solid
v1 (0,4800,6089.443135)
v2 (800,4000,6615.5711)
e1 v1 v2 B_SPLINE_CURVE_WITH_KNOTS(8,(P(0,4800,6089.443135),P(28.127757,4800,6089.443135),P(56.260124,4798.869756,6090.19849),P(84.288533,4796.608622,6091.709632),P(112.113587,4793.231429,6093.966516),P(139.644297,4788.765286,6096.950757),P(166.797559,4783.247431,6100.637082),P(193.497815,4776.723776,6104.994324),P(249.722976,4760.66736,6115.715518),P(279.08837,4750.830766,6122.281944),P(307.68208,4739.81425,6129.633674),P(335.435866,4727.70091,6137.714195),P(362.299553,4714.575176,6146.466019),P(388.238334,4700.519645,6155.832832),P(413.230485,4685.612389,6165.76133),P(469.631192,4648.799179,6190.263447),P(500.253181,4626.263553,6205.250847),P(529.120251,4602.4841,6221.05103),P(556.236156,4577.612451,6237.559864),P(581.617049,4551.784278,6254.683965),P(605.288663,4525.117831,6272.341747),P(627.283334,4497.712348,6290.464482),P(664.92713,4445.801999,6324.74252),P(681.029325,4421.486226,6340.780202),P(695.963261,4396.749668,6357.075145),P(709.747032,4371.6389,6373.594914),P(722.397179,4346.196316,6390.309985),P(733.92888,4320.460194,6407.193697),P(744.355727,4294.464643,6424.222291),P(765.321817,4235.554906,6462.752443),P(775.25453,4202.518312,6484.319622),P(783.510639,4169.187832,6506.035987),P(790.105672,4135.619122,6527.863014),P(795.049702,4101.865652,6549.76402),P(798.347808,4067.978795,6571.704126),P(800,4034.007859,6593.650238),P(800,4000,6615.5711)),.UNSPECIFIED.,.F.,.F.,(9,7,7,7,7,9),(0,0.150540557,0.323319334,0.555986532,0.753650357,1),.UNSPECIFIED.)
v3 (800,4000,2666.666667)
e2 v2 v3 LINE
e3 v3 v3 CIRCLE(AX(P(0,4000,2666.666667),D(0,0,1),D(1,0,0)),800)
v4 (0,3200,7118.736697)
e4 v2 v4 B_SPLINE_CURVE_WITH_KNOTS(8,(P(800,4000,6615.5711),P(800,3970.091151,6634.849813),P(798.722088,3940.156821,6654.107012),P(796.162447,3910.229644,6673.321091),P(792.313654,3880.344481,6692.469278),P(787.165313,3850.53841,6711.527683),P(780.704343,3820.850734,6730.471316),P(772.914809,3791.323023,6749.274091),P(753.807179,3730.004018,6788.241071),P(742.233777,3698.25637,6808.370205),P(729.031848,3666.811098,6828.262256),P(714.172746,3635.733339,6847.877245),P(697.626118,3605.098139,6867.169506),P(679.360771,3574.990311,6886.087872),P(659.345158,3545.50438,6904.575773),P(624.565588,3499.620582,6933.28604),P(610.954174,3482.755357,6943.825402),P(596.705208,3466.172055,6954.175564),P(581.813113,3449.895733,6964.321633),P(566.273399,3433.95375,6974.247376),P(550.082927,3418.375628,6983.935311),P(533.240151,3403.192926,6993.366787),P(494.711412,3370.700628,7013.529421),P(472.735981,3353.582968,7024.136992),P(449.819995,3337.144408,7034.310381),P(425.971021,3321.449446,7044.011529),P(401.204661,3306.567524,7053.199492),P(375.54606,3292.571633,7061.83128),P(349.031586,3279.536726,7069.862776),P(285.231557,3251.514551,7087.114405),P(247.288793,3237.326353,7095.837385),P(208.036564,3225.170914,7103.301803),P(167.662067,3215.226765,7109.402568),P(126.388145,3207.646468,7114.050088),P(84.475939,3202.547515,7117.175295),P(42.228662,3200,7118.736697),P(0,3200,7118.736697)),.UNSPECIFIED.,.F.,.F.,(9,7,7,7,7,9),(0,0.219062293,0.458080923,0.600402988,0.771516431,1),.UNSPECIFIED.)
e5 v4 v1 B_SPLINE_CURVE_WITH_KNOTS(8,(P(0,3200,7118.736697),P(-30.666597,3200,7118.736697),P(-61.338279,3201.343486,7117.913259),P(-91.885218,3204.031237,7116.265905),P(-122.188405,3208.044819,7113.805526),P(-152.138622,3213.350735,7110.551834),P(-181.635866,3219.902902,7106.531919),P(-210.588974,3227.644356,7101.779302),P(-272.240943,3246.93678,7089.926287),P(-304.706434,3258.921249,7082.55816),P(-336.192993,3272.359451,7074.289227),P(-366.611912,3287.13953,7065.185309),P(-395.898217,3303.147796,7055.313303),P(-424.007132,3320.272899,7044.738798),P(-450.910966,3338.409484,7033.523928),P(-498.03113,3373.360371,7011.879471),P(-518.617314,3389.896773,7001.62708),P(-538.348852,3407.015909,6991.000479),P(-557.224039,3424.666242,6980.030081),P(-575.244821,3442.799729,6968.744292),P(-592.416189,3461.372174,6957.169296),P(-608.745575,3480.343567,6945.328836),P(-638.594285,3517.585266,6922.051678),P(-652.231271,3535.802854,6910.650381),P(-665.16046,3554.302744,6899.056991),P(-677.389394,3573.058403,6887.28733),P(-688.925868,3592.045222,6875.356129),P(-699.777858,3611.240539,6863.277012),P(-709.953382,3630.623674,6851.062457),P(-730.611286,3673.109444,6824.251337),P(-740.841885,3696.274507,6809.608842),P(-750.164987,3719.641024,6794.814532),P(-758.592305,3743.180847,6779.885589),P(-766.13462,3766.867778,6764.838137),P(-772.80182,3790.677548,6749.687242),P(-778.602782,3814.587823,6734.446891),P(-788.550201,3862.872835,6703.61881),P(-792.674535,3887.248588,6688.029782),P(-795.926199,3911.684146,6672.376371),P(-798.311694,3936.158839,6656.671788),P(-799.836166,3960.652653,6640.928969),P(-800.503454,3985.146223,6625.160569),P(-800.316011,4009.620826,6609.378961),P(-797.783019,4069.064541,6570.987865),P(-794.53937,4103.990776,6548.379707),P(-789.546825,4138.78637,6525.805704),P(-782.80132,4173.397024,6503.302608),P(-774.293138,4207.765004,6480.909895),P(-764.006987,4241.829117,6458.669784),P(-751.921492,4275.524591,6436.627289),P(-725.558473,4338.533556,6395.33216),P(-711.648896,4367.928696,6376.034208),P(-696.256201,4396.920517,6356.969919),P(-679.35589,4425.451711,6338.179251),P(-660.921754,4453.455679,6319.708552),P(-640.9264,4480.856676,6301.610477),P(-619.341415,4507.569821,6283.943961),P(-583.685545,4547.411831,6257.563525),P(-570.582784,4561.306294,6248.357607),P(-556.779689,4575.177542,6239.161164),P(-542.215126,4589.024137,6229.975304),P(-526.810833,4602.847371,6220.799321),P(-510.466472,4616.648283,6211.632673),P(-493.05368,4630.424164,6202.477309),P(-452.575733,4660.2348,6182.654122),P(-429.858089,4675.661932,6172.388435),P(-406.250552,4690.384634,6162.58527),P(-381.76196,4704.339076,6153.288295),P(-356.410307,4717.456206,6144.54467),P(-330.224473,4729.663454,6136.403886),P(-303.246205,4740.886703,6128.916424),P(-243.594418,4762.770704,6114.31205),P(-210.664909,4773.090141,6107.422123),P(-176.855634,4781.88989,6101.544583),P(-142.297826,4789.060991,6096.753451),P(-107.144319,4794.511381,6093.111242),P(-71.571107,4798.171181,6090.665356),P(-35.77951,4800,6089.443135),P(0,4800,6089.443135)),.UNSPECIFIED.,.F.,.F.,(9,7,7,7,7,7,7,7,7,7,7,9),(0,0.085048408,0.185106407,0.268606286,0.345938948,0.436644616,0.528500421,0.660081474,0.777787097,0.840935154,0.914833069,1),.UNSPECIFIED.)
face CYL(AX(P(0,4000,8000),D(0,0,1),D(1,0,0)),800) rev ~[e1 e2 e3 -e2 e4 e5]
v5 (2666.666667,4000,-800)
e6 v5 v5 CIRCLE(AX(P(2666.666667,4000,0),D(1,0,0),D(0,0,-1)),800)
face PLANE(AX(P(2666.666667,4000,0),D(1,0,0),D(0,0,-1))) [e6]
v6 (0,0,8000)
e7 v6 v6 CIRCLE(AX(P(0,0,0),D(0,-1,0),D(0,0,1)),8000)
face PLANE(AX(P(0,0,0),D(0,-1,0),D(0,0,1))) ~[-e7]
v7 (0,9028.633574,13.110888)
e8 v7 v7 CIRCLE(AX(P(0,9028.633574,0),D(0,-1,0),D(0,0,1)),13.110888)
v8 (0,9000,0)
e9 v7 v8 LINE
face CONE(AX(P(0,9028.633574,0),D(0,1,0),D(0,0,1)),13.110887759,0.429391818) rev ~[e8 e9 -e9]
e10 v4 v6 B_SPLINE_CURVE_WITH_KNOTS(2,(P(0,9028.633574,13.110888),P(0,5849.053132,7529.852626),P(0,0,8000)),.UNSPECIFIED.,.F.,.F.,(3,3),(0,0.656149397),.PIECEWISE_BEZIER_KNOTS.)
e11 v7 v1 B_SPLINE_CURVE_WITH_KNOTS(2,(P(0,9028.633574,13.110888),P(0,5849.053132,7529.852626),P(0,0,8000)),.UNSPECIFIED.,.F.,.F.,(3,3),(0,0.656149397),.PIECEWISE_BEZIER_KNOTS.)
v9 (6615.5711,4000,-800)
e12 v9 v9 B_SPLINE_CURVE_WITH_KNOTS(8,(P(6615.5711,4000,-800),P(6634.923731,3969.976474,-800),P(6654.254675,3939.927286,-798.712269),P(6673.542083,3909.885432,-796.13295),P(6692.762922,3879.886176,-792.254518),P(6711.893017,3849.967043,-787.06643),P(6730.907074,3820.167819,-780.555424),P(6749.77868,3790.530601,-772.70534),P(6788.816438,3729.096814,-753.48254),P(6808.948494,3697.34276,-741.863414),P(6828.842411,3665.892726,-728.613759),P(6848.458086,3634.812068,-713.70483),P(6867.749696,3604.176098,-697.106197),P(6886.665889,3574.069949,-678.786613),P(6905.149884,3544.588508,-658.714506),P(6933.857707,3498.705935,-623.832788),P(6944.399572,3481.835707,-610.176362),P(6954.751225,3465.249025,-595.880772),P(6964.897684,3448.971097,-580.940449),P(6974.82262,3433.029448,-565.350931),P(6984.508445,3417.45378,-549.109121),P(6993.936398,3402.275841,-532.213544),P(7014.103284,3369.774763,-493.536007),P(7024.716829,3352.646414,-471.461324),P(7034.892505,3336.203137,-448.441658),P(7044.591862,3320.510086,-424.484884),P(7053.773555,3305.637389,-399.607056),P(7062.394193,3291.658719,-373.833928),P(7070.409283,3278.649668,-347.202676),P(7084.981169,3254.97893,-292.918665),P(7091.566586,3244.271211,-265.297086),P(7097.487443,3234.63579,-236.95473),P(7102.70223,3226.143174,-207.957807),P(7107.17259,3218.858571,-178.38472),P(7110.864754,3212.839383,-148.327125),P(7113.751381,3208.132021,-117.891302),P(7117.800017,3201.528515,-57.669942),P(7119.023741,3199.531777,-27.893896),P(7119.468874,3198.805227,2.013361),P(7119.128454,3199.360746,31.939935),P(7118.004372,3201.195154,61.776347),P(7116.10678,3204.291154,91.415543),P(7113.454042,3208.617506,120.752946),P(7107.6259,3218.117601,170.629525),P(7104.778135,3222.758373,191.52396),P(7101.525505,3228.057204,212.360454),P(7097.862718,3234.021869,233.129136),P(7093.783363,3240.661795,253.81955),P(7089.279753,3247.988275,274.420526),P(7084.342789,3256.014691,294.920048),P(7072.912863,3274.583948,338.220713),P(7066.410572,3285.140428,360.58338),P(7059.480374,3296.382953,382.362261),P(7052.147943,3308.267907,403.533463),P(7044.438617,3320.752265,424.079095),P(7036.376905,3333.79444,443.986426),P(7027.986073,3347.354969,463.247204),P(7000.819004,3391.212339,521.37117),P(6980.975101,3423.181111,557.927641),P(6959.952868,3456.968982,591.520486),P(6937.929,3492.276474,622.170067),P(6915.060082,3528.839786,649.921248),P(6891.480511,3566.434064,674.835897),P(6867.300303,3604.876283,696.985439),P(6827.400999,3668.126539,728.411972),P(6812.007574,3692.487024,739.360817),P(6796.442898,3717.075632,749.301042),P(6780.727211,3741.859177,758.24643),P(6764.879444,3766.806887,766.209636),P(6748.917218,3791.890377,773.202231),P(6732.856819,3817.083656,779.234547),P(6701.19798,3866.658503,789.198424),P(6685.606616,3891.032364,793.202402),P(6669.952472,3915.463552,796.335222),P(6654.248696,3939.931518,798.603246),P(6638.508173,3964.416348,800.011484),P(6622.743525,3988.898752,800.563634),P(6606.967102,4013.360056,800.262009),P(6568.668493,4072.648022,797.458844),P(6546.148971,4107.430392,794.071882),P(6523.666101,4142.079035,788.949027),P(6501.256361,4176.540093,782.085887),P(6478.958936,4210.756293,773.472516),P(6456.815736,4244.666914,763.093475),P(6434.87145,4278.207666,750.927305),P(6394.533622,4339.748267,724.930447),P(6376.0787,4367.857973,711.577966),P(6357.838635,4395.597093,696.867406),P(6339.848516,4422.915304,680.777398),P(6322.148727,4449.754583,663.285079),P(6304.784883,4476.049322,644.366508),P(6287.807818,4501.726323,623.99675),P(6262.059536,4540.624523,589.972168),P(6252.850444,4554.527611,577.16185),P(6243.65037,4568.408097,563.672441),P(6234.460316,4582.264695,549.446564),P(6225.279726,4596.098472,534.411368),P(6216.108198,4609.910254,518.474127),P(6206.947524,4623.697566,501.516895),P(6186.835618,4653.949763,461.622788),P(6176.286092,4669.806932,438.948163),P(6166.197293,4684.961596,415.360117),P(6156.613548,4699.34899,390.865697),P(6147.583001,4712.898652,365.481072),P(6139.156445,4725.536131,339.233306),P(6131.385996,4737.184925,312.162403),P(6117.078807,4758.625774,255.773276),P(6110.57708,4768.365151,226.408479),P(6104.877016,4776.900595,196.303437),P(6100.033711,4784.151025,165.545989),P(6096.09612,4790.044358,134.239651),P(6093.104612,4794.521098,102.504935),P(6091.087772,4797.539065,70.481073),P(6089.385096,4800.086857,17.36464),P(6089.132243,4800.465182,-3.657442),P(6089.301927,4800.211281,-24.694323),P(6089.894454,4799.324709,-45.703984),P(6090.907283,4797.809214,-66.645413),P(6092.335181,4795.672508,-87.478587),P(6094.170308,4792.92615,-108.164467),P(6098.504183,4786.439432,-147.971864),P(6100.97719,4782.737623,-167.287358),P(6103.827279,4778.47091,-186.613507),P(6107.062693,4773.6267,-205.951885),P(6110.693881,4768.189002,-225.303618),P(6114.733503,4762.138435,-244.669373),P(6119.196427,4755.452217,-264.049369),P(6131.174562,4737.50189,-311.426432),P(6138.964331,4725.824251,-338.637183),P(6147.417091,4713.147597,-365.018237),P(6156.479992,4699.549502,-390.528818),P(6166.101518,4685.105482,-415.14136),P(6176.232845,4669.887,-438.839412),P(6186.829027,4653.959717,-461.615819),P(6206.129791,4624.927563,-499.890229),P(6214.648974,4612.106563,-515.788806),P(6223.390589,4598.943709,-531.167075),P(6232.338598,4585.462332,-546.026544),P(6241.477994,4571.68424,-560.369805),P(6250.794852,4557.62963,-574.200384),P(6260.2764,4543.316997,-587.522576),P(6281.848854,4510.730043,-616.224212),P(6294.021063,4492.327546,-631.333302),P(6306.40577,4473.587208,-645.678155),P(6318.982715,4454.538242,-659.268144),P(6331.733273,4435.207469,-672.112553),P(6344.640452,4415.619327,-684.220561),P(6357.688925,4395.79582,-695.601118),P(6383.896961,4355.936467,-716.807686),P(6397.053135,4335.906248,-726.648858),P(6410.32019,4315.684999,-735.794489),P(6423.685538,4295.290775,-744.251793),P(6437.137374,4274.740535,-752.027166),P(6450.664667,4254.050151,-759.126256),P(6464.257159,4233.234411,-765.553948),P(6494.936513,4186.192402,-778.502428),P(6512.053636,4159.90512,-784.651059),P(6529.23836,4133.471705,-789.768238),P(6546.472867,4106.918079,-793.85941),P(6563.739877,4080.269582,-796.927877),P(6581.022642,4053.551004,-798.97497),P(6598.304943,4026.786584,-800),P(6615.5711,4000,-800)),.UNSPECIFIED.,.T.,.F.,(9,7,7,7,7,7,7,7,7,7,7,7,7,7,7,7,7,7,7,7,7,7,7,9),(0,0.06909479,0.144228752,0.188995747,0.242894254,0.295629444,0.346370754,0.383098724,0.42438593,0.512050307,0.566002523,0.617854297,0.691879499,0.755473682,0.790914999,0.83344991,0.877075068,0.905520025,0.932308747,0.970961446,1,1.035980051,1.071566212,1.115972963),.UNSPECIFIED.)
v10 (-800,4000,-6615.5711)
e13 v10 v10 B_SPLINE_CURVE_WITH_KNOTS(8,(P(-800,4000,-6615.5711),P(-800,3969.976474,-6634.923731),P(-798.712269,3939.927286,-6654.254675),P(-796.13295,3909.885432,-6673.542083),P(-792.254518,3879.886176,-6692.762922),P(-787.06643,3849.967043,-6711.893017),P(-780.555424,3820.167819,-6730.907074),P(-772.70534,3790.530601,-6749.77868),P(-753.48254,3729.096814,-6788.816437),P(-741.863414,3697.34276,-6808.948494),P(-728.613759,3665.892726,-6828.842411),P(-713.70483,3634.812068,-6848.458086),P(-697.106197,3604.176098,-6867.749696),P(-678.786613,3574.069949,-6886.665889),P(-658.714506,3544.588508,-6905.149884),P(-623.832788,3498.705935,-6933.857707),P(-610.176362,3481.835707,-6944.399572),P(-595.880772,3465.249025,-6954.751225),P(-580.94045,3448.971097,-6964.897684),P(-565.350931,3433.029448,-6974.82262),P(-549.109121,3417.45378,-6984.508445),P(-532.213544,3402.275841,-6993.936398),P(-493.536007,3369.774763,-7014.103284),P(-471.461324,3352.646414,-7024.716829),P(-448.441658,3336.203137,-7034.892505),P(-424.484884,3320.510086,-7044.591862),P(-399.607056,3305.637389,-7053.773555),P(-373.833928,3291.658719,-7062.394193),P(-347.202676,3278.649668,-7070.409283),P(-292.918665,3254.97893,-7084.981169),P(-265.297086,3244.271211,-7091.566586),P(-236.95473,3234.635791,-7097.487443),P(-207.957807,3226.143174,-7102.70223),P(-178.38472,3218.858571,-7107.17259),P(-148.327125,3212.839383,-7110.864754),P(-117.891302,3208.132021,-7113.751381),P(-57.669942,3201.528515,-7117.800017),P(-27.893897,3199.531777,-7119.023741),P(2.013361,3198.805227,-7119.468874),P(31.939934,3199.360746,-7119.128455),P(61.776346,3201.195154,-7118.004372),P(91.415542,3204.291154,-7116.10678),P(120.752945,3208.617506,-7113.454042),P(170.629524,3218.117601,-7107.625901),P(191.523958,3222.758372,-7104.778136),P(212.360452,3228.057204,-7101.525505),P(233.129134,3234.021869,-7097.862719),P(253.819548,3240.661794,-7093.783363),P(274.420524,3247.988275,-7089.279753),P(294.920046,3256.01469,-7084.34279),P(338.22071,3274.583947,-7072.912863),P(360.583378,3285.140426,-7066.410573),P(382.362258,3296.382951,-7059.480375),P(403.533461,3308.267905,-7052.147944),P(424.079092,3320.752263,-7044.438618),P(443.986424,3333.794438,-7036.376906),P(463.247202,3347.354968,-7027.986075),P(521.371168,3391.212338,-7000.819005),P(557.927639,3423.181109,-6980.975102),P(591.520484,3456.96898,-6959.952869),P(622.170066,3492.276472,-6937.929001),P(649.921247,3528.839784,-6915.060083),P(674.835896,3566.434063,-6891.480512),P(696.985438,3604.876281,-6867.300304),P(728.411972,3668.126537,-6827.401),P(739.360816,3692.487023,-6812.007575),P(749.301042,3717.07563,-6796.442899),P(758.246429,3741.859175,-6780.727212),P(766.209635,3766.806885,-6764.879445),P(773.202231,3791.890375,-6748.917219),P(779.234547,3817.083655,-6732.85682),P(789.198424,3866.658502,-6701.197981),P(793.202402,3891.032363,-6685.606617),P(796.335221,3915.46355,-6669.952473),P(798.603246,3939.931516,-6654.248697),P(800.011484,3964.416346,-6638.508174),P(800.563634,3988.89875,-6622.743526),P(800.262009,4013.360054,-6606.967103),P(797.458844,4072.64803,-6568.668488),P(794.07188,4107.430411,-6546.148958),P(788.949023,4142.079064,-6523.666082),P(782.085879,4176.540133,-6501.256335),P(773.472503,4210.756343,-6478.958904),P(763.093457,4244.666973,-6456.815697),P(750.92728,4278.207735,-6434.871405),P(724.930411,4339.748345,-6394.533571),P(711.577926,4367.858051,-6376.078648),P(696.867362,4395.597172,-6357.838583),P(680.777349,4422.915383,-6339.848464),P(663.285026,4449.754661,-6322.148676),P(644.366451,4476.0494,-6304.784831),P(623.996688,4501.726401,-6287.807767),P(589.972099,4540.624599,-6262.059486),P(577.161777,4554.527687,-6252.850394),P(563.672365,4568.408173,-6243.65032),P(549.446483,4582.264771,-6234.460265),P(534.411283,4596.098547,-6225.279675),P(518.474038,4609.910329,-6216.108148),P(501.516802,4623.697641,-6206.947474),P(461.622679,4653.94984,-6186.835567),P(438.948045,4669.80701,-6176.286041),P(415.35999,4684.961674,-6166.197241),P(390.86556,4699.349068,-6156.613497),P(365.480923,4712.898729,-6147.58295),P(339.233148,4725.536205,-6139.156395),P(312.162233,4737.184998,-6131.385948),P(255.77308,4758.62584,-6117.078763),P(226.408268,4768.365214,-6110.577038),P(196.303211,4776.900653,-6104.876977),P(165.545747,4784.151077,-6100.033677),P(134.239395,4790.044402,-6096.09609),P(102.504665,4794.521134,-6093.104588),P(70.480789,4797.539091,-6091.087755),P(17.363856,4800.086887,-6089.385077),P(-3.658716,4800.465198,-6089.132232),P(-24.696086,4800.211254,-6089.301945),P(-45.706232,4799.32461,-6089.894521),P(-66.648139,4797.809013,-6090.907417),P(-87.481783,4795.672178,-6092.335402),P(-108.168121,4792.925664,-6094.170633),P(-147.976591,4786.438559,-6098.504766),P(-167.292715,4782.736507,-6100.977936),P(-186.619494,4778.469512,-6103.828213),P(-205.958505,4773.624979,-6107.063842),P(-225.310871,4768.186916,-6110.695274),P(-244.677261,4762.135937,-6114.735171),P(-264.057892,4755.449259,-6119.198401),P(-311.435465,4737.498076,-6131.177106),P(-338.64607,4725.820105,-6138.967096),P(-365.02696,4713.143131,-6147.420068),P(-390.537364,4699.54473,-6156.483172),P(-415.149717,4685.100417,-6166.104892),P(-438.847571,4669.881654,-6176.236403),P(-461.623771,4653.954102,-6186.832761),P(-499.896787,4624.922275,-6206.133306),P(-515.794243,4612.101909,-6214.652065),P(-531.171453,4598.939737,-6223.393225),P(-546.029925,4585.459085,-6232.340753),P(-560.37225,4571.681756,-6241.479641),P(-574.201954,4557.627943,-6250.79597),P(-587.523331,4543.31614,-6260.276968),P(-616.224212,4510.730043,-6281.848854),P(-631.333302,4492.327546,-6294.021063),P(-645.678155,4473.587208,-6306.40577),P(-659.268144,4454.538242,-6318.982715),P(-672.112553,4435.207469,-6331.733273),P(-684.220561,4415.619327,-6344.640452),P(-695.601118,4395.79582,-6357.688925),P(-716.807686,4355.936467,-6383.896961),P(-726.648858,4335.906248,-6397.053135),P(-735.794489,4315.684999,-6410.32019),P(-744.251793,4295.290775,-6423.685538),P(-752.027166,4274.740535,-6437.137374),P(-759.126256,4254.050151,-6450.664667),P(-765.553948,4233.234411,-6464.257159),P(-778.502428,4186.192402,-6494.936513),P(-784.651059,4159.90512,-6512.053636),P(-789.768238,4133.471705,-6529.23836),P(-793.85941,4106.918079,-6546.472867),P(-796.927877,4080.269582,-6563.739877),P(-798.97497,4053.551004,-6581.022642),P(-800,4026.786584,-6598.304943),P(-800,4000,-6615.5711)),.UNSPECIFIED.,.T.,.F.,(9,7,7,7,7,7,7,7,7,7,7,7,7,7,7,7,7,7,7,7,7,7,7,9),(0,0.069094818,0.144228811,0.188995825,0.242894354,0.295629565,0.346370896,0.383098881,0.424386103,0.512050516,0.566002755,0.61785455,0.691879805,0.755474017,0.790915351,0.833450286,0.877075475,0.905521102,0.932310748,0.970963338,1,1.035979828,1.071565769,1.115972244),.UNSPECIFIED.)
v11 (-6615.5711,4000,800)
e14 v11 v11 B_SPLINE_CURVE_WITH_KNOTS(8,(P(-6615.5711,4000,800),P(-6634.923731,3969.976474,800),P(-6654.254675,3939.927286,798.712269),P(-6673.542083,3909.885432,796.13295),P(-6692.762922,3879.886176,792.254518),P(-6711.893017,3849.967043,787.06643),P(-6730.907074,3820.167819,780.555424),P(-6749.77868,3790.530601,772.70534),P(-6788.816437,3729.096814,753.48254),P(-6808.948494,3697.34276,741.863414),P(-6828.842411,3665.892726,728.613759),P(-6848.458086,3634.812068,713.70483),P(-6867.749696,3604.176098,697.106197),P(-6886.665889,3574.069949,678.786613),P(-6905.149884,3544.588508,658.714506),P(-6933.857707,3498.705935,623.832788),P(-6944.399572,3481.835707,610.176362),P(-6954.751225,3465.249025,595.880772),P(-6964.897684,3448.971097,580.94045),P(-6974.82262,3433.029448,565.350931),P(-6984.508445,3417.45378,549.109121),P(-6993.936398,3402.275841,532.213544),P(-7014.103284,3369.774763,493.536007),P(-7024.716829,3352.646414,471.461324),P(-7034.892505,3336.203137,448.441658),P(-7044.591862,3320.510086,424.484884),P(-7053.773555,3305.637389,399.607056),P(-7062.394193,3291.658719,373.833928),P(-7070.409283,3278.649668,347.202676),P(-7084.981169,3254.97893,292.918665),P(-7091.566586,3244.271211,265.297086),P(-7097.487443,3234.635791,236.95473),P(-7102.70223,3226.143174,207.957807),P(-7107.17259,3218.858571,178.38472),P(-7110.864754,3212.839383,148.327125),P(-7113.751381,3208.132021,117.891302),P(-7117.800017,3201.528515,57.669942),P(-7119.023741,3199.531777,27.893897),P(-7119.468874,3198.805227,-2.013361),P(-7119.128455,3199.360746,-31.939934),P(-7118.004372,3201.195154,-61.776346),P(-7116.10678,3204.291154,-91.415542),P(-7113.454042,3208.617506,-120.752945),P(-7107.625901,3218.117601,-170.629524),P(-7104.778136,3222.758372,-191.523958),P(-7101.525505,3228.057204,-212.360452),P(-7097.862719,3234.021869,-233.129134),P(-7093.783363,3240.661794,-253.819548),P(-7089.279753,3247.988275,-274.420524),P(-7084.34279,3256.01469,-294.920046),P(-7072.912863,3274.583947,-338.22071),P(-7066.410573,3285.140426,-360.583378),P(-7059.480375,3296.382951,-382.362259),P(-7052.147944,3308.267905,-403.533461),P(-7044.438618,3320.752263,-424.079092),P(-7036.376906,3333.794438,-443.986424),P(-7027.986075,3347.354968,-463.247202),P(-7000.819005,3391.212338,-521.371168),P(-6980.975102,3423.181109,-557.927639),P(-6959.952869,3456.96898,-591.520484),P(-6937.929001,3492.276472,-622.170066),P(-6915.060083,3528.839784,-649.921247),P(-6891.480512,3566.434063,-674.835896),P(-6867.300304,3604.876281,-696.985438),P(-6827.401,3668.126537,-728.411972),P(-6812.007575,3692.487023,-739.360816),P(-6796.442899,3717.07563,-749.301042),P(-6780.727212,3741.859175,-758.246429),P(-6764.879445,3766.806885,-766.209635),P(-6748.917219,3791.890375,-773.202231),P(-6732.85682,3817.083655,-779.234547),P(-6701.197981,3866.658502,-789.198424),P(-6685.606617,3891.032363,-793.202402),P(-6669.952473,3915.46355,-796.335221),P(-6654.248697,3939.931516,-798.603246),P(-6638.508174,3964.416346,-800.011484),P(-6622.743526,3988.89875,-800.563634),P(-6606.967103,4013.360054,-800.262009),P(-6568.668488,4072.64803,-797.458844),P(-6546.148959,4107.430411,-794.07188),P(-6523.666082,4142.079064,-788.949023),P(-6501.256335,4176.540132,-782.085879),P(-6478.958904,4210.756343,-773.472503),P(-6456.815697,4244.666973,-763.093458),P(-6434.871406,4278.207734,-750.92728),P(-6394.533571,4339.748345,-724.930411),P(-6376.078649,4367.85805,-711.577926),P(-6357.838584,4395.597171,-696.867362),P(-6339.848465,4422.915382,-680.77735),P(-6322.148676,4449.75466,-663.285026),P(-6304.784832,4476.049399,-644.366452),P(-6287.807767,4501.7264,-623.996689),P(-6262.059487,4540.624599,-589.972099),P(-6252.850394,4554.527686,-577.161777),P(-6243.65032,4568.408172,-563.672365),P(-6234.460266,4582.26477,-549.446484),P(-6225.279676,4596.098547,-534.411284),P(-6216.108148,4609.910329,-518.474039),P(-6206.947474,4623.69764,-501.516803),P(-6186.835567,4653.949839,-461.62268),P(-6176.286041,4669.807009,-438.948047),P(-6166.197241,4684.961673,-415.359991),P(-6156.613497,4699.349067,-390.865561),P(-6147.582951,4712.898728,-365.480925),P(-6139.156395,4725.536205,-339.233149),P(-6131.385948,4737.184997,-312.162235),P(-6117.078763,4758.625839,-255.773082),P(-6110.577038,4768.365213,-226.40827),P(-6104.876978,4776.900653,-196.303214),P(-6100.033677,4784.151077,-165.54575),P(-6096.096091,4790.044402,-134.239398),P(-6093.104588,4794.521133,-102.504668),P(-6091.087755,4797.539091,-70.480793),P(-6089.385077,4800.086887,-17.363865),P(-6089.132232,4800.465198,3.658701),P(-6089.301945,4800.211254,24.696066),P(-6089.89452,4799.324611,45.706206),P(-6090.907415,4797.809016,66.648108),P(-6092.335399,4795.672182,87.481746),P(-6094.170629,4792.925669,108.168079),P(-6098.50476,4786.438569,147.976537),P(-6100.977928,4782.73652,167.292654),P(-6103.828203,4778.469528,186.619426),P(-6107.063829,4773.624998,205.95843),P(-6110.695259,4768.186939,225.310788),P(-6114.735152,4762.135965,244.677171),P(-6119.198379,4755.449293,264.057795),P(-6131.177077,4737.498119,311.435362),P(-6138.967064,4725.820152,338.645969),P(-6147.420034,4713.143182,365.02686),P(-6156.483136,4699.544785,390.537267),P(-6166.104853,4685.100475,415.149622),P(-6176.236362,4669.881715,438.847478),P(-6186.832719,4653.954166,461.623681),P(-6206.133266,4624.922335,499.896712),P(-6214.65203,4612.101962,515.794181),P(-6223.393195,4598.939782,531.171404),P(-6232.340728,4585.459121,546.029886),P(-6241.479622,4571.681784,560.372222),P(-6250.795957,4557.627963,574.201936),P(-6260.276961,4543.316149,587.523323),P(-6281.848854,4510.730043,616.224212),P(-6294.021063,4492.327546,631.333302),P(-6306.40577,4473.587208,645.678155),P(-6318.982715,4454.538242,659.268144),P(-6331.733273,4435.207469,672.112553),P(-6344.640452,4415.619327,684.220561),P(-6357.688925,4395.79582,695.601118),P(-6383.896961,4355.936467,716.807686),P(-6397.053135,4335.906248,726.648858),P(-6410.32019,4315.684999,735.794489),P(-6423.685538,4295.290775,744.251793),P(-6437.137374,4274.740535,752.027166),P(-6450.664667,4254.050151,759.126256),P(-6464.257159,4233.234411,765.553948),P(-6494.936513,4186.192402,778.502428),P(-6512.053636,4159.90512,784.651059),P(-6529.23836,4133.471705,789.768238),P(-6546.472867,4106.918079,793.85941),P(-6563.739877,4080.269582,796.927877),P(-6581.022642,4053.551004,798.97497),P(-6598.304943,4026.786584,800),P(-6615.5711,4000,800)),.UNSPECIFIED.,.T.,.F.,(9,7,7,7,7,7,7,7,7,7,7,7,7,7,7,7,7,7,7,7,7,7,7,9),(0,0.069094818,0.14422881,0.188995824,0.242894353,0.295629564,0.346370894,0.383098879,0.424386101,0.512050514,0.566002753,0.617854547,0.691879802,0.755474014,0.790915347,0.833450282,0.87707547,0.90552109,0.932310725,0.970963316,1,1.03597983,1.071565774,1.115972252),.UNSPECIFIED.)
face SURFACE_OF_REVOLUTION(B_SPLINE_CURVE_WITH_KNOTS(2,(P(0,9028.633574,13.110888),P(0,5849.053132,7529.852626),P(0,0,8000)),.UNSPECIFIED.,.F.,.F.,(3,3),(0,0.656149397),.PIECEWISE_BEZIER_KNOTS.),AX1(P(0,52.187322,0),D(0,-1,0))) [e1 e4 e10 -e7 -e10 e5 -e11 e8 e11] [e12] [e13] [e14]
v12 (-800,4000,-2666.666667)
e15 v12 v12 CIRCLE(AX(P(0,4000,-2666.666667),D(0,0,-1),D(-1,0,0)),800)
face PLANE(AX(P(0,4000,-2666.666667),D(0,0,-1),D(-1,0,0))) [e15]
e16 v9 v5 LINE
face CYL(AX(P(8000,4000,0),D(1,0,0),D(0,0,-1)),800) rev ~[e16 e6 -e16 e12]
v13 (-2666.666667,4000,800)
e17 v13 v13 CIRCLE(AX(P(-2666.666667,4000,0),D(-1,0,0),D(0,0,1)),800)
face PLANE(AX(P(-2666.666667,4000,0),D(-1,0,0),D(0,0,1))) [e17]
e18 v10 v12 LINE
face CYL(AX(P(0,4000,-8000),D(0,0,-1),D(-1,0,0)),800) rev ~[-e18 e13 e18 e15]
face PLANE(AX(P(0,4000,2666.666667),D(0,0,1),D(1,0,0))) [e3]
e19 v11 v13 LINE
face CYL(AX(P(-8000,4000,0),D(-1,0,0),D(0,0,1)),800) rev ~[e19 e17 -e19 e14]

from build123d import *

# Parameters (mm, degrees)
SKETCH2_R          = 800
CUT_EXTRUDE1_DEPTH = 5333.333333333
CIRPATTERN1_COUNT  = 4


with BuildPart() as part:
    # Sketch1 → Revolve1 (revolve)
    with BuildSketch(Plane.XY, mode=Mode.PRIVATE) as revolve1_sk:
        with BuildLine():
            Line((0, 0), (8000, 0))
            add(Edge.make_bspline(
                [(13.110887759, 9028.633574294), (7529.852626364, 5849.053131887), (8000, 0)],
                knots=[0, 0, 0, 0.656149397, 0.656149397, 0.656149397], degree=2))
            Line((13.110887759, 9028.633574294), (0, 9000))
            Line((0, 9000), (0, 0))
        make_face()
    revolve(revolve1_sk.sketch.rotate(Axis((0, 52.187321795, 0), (0, -1, 0)), 90), axis=Axis((0, 52.187321795, 0), (0, -1, 0)))

    # Sketch2 → Cut-Extrude1 (cut)
    with BuildSketch(Plane.XY.offset(8000)):
        with Locations((0, 4000)):
            Circle(SKETCH2_R)
    cut_extrude1 = extrude(amount=-CUT_EXTRUDE1_DEPTH, mode=Mode.SUBTRACT)

    # CirPattern1: Cut-Extrude1 ×4 about axis
    cirpattern1_axis = Axis((0, 0, 0), (0, 1, 0))
    for i in range(1, CIRPATTERN1_COUNT):
        add(cut_extrude1.rotate(cirpattern1_axis, i * 360 / CIRPATTERN1_COUNT), mode=Mode.SUBTRACT)


solid = part.part
